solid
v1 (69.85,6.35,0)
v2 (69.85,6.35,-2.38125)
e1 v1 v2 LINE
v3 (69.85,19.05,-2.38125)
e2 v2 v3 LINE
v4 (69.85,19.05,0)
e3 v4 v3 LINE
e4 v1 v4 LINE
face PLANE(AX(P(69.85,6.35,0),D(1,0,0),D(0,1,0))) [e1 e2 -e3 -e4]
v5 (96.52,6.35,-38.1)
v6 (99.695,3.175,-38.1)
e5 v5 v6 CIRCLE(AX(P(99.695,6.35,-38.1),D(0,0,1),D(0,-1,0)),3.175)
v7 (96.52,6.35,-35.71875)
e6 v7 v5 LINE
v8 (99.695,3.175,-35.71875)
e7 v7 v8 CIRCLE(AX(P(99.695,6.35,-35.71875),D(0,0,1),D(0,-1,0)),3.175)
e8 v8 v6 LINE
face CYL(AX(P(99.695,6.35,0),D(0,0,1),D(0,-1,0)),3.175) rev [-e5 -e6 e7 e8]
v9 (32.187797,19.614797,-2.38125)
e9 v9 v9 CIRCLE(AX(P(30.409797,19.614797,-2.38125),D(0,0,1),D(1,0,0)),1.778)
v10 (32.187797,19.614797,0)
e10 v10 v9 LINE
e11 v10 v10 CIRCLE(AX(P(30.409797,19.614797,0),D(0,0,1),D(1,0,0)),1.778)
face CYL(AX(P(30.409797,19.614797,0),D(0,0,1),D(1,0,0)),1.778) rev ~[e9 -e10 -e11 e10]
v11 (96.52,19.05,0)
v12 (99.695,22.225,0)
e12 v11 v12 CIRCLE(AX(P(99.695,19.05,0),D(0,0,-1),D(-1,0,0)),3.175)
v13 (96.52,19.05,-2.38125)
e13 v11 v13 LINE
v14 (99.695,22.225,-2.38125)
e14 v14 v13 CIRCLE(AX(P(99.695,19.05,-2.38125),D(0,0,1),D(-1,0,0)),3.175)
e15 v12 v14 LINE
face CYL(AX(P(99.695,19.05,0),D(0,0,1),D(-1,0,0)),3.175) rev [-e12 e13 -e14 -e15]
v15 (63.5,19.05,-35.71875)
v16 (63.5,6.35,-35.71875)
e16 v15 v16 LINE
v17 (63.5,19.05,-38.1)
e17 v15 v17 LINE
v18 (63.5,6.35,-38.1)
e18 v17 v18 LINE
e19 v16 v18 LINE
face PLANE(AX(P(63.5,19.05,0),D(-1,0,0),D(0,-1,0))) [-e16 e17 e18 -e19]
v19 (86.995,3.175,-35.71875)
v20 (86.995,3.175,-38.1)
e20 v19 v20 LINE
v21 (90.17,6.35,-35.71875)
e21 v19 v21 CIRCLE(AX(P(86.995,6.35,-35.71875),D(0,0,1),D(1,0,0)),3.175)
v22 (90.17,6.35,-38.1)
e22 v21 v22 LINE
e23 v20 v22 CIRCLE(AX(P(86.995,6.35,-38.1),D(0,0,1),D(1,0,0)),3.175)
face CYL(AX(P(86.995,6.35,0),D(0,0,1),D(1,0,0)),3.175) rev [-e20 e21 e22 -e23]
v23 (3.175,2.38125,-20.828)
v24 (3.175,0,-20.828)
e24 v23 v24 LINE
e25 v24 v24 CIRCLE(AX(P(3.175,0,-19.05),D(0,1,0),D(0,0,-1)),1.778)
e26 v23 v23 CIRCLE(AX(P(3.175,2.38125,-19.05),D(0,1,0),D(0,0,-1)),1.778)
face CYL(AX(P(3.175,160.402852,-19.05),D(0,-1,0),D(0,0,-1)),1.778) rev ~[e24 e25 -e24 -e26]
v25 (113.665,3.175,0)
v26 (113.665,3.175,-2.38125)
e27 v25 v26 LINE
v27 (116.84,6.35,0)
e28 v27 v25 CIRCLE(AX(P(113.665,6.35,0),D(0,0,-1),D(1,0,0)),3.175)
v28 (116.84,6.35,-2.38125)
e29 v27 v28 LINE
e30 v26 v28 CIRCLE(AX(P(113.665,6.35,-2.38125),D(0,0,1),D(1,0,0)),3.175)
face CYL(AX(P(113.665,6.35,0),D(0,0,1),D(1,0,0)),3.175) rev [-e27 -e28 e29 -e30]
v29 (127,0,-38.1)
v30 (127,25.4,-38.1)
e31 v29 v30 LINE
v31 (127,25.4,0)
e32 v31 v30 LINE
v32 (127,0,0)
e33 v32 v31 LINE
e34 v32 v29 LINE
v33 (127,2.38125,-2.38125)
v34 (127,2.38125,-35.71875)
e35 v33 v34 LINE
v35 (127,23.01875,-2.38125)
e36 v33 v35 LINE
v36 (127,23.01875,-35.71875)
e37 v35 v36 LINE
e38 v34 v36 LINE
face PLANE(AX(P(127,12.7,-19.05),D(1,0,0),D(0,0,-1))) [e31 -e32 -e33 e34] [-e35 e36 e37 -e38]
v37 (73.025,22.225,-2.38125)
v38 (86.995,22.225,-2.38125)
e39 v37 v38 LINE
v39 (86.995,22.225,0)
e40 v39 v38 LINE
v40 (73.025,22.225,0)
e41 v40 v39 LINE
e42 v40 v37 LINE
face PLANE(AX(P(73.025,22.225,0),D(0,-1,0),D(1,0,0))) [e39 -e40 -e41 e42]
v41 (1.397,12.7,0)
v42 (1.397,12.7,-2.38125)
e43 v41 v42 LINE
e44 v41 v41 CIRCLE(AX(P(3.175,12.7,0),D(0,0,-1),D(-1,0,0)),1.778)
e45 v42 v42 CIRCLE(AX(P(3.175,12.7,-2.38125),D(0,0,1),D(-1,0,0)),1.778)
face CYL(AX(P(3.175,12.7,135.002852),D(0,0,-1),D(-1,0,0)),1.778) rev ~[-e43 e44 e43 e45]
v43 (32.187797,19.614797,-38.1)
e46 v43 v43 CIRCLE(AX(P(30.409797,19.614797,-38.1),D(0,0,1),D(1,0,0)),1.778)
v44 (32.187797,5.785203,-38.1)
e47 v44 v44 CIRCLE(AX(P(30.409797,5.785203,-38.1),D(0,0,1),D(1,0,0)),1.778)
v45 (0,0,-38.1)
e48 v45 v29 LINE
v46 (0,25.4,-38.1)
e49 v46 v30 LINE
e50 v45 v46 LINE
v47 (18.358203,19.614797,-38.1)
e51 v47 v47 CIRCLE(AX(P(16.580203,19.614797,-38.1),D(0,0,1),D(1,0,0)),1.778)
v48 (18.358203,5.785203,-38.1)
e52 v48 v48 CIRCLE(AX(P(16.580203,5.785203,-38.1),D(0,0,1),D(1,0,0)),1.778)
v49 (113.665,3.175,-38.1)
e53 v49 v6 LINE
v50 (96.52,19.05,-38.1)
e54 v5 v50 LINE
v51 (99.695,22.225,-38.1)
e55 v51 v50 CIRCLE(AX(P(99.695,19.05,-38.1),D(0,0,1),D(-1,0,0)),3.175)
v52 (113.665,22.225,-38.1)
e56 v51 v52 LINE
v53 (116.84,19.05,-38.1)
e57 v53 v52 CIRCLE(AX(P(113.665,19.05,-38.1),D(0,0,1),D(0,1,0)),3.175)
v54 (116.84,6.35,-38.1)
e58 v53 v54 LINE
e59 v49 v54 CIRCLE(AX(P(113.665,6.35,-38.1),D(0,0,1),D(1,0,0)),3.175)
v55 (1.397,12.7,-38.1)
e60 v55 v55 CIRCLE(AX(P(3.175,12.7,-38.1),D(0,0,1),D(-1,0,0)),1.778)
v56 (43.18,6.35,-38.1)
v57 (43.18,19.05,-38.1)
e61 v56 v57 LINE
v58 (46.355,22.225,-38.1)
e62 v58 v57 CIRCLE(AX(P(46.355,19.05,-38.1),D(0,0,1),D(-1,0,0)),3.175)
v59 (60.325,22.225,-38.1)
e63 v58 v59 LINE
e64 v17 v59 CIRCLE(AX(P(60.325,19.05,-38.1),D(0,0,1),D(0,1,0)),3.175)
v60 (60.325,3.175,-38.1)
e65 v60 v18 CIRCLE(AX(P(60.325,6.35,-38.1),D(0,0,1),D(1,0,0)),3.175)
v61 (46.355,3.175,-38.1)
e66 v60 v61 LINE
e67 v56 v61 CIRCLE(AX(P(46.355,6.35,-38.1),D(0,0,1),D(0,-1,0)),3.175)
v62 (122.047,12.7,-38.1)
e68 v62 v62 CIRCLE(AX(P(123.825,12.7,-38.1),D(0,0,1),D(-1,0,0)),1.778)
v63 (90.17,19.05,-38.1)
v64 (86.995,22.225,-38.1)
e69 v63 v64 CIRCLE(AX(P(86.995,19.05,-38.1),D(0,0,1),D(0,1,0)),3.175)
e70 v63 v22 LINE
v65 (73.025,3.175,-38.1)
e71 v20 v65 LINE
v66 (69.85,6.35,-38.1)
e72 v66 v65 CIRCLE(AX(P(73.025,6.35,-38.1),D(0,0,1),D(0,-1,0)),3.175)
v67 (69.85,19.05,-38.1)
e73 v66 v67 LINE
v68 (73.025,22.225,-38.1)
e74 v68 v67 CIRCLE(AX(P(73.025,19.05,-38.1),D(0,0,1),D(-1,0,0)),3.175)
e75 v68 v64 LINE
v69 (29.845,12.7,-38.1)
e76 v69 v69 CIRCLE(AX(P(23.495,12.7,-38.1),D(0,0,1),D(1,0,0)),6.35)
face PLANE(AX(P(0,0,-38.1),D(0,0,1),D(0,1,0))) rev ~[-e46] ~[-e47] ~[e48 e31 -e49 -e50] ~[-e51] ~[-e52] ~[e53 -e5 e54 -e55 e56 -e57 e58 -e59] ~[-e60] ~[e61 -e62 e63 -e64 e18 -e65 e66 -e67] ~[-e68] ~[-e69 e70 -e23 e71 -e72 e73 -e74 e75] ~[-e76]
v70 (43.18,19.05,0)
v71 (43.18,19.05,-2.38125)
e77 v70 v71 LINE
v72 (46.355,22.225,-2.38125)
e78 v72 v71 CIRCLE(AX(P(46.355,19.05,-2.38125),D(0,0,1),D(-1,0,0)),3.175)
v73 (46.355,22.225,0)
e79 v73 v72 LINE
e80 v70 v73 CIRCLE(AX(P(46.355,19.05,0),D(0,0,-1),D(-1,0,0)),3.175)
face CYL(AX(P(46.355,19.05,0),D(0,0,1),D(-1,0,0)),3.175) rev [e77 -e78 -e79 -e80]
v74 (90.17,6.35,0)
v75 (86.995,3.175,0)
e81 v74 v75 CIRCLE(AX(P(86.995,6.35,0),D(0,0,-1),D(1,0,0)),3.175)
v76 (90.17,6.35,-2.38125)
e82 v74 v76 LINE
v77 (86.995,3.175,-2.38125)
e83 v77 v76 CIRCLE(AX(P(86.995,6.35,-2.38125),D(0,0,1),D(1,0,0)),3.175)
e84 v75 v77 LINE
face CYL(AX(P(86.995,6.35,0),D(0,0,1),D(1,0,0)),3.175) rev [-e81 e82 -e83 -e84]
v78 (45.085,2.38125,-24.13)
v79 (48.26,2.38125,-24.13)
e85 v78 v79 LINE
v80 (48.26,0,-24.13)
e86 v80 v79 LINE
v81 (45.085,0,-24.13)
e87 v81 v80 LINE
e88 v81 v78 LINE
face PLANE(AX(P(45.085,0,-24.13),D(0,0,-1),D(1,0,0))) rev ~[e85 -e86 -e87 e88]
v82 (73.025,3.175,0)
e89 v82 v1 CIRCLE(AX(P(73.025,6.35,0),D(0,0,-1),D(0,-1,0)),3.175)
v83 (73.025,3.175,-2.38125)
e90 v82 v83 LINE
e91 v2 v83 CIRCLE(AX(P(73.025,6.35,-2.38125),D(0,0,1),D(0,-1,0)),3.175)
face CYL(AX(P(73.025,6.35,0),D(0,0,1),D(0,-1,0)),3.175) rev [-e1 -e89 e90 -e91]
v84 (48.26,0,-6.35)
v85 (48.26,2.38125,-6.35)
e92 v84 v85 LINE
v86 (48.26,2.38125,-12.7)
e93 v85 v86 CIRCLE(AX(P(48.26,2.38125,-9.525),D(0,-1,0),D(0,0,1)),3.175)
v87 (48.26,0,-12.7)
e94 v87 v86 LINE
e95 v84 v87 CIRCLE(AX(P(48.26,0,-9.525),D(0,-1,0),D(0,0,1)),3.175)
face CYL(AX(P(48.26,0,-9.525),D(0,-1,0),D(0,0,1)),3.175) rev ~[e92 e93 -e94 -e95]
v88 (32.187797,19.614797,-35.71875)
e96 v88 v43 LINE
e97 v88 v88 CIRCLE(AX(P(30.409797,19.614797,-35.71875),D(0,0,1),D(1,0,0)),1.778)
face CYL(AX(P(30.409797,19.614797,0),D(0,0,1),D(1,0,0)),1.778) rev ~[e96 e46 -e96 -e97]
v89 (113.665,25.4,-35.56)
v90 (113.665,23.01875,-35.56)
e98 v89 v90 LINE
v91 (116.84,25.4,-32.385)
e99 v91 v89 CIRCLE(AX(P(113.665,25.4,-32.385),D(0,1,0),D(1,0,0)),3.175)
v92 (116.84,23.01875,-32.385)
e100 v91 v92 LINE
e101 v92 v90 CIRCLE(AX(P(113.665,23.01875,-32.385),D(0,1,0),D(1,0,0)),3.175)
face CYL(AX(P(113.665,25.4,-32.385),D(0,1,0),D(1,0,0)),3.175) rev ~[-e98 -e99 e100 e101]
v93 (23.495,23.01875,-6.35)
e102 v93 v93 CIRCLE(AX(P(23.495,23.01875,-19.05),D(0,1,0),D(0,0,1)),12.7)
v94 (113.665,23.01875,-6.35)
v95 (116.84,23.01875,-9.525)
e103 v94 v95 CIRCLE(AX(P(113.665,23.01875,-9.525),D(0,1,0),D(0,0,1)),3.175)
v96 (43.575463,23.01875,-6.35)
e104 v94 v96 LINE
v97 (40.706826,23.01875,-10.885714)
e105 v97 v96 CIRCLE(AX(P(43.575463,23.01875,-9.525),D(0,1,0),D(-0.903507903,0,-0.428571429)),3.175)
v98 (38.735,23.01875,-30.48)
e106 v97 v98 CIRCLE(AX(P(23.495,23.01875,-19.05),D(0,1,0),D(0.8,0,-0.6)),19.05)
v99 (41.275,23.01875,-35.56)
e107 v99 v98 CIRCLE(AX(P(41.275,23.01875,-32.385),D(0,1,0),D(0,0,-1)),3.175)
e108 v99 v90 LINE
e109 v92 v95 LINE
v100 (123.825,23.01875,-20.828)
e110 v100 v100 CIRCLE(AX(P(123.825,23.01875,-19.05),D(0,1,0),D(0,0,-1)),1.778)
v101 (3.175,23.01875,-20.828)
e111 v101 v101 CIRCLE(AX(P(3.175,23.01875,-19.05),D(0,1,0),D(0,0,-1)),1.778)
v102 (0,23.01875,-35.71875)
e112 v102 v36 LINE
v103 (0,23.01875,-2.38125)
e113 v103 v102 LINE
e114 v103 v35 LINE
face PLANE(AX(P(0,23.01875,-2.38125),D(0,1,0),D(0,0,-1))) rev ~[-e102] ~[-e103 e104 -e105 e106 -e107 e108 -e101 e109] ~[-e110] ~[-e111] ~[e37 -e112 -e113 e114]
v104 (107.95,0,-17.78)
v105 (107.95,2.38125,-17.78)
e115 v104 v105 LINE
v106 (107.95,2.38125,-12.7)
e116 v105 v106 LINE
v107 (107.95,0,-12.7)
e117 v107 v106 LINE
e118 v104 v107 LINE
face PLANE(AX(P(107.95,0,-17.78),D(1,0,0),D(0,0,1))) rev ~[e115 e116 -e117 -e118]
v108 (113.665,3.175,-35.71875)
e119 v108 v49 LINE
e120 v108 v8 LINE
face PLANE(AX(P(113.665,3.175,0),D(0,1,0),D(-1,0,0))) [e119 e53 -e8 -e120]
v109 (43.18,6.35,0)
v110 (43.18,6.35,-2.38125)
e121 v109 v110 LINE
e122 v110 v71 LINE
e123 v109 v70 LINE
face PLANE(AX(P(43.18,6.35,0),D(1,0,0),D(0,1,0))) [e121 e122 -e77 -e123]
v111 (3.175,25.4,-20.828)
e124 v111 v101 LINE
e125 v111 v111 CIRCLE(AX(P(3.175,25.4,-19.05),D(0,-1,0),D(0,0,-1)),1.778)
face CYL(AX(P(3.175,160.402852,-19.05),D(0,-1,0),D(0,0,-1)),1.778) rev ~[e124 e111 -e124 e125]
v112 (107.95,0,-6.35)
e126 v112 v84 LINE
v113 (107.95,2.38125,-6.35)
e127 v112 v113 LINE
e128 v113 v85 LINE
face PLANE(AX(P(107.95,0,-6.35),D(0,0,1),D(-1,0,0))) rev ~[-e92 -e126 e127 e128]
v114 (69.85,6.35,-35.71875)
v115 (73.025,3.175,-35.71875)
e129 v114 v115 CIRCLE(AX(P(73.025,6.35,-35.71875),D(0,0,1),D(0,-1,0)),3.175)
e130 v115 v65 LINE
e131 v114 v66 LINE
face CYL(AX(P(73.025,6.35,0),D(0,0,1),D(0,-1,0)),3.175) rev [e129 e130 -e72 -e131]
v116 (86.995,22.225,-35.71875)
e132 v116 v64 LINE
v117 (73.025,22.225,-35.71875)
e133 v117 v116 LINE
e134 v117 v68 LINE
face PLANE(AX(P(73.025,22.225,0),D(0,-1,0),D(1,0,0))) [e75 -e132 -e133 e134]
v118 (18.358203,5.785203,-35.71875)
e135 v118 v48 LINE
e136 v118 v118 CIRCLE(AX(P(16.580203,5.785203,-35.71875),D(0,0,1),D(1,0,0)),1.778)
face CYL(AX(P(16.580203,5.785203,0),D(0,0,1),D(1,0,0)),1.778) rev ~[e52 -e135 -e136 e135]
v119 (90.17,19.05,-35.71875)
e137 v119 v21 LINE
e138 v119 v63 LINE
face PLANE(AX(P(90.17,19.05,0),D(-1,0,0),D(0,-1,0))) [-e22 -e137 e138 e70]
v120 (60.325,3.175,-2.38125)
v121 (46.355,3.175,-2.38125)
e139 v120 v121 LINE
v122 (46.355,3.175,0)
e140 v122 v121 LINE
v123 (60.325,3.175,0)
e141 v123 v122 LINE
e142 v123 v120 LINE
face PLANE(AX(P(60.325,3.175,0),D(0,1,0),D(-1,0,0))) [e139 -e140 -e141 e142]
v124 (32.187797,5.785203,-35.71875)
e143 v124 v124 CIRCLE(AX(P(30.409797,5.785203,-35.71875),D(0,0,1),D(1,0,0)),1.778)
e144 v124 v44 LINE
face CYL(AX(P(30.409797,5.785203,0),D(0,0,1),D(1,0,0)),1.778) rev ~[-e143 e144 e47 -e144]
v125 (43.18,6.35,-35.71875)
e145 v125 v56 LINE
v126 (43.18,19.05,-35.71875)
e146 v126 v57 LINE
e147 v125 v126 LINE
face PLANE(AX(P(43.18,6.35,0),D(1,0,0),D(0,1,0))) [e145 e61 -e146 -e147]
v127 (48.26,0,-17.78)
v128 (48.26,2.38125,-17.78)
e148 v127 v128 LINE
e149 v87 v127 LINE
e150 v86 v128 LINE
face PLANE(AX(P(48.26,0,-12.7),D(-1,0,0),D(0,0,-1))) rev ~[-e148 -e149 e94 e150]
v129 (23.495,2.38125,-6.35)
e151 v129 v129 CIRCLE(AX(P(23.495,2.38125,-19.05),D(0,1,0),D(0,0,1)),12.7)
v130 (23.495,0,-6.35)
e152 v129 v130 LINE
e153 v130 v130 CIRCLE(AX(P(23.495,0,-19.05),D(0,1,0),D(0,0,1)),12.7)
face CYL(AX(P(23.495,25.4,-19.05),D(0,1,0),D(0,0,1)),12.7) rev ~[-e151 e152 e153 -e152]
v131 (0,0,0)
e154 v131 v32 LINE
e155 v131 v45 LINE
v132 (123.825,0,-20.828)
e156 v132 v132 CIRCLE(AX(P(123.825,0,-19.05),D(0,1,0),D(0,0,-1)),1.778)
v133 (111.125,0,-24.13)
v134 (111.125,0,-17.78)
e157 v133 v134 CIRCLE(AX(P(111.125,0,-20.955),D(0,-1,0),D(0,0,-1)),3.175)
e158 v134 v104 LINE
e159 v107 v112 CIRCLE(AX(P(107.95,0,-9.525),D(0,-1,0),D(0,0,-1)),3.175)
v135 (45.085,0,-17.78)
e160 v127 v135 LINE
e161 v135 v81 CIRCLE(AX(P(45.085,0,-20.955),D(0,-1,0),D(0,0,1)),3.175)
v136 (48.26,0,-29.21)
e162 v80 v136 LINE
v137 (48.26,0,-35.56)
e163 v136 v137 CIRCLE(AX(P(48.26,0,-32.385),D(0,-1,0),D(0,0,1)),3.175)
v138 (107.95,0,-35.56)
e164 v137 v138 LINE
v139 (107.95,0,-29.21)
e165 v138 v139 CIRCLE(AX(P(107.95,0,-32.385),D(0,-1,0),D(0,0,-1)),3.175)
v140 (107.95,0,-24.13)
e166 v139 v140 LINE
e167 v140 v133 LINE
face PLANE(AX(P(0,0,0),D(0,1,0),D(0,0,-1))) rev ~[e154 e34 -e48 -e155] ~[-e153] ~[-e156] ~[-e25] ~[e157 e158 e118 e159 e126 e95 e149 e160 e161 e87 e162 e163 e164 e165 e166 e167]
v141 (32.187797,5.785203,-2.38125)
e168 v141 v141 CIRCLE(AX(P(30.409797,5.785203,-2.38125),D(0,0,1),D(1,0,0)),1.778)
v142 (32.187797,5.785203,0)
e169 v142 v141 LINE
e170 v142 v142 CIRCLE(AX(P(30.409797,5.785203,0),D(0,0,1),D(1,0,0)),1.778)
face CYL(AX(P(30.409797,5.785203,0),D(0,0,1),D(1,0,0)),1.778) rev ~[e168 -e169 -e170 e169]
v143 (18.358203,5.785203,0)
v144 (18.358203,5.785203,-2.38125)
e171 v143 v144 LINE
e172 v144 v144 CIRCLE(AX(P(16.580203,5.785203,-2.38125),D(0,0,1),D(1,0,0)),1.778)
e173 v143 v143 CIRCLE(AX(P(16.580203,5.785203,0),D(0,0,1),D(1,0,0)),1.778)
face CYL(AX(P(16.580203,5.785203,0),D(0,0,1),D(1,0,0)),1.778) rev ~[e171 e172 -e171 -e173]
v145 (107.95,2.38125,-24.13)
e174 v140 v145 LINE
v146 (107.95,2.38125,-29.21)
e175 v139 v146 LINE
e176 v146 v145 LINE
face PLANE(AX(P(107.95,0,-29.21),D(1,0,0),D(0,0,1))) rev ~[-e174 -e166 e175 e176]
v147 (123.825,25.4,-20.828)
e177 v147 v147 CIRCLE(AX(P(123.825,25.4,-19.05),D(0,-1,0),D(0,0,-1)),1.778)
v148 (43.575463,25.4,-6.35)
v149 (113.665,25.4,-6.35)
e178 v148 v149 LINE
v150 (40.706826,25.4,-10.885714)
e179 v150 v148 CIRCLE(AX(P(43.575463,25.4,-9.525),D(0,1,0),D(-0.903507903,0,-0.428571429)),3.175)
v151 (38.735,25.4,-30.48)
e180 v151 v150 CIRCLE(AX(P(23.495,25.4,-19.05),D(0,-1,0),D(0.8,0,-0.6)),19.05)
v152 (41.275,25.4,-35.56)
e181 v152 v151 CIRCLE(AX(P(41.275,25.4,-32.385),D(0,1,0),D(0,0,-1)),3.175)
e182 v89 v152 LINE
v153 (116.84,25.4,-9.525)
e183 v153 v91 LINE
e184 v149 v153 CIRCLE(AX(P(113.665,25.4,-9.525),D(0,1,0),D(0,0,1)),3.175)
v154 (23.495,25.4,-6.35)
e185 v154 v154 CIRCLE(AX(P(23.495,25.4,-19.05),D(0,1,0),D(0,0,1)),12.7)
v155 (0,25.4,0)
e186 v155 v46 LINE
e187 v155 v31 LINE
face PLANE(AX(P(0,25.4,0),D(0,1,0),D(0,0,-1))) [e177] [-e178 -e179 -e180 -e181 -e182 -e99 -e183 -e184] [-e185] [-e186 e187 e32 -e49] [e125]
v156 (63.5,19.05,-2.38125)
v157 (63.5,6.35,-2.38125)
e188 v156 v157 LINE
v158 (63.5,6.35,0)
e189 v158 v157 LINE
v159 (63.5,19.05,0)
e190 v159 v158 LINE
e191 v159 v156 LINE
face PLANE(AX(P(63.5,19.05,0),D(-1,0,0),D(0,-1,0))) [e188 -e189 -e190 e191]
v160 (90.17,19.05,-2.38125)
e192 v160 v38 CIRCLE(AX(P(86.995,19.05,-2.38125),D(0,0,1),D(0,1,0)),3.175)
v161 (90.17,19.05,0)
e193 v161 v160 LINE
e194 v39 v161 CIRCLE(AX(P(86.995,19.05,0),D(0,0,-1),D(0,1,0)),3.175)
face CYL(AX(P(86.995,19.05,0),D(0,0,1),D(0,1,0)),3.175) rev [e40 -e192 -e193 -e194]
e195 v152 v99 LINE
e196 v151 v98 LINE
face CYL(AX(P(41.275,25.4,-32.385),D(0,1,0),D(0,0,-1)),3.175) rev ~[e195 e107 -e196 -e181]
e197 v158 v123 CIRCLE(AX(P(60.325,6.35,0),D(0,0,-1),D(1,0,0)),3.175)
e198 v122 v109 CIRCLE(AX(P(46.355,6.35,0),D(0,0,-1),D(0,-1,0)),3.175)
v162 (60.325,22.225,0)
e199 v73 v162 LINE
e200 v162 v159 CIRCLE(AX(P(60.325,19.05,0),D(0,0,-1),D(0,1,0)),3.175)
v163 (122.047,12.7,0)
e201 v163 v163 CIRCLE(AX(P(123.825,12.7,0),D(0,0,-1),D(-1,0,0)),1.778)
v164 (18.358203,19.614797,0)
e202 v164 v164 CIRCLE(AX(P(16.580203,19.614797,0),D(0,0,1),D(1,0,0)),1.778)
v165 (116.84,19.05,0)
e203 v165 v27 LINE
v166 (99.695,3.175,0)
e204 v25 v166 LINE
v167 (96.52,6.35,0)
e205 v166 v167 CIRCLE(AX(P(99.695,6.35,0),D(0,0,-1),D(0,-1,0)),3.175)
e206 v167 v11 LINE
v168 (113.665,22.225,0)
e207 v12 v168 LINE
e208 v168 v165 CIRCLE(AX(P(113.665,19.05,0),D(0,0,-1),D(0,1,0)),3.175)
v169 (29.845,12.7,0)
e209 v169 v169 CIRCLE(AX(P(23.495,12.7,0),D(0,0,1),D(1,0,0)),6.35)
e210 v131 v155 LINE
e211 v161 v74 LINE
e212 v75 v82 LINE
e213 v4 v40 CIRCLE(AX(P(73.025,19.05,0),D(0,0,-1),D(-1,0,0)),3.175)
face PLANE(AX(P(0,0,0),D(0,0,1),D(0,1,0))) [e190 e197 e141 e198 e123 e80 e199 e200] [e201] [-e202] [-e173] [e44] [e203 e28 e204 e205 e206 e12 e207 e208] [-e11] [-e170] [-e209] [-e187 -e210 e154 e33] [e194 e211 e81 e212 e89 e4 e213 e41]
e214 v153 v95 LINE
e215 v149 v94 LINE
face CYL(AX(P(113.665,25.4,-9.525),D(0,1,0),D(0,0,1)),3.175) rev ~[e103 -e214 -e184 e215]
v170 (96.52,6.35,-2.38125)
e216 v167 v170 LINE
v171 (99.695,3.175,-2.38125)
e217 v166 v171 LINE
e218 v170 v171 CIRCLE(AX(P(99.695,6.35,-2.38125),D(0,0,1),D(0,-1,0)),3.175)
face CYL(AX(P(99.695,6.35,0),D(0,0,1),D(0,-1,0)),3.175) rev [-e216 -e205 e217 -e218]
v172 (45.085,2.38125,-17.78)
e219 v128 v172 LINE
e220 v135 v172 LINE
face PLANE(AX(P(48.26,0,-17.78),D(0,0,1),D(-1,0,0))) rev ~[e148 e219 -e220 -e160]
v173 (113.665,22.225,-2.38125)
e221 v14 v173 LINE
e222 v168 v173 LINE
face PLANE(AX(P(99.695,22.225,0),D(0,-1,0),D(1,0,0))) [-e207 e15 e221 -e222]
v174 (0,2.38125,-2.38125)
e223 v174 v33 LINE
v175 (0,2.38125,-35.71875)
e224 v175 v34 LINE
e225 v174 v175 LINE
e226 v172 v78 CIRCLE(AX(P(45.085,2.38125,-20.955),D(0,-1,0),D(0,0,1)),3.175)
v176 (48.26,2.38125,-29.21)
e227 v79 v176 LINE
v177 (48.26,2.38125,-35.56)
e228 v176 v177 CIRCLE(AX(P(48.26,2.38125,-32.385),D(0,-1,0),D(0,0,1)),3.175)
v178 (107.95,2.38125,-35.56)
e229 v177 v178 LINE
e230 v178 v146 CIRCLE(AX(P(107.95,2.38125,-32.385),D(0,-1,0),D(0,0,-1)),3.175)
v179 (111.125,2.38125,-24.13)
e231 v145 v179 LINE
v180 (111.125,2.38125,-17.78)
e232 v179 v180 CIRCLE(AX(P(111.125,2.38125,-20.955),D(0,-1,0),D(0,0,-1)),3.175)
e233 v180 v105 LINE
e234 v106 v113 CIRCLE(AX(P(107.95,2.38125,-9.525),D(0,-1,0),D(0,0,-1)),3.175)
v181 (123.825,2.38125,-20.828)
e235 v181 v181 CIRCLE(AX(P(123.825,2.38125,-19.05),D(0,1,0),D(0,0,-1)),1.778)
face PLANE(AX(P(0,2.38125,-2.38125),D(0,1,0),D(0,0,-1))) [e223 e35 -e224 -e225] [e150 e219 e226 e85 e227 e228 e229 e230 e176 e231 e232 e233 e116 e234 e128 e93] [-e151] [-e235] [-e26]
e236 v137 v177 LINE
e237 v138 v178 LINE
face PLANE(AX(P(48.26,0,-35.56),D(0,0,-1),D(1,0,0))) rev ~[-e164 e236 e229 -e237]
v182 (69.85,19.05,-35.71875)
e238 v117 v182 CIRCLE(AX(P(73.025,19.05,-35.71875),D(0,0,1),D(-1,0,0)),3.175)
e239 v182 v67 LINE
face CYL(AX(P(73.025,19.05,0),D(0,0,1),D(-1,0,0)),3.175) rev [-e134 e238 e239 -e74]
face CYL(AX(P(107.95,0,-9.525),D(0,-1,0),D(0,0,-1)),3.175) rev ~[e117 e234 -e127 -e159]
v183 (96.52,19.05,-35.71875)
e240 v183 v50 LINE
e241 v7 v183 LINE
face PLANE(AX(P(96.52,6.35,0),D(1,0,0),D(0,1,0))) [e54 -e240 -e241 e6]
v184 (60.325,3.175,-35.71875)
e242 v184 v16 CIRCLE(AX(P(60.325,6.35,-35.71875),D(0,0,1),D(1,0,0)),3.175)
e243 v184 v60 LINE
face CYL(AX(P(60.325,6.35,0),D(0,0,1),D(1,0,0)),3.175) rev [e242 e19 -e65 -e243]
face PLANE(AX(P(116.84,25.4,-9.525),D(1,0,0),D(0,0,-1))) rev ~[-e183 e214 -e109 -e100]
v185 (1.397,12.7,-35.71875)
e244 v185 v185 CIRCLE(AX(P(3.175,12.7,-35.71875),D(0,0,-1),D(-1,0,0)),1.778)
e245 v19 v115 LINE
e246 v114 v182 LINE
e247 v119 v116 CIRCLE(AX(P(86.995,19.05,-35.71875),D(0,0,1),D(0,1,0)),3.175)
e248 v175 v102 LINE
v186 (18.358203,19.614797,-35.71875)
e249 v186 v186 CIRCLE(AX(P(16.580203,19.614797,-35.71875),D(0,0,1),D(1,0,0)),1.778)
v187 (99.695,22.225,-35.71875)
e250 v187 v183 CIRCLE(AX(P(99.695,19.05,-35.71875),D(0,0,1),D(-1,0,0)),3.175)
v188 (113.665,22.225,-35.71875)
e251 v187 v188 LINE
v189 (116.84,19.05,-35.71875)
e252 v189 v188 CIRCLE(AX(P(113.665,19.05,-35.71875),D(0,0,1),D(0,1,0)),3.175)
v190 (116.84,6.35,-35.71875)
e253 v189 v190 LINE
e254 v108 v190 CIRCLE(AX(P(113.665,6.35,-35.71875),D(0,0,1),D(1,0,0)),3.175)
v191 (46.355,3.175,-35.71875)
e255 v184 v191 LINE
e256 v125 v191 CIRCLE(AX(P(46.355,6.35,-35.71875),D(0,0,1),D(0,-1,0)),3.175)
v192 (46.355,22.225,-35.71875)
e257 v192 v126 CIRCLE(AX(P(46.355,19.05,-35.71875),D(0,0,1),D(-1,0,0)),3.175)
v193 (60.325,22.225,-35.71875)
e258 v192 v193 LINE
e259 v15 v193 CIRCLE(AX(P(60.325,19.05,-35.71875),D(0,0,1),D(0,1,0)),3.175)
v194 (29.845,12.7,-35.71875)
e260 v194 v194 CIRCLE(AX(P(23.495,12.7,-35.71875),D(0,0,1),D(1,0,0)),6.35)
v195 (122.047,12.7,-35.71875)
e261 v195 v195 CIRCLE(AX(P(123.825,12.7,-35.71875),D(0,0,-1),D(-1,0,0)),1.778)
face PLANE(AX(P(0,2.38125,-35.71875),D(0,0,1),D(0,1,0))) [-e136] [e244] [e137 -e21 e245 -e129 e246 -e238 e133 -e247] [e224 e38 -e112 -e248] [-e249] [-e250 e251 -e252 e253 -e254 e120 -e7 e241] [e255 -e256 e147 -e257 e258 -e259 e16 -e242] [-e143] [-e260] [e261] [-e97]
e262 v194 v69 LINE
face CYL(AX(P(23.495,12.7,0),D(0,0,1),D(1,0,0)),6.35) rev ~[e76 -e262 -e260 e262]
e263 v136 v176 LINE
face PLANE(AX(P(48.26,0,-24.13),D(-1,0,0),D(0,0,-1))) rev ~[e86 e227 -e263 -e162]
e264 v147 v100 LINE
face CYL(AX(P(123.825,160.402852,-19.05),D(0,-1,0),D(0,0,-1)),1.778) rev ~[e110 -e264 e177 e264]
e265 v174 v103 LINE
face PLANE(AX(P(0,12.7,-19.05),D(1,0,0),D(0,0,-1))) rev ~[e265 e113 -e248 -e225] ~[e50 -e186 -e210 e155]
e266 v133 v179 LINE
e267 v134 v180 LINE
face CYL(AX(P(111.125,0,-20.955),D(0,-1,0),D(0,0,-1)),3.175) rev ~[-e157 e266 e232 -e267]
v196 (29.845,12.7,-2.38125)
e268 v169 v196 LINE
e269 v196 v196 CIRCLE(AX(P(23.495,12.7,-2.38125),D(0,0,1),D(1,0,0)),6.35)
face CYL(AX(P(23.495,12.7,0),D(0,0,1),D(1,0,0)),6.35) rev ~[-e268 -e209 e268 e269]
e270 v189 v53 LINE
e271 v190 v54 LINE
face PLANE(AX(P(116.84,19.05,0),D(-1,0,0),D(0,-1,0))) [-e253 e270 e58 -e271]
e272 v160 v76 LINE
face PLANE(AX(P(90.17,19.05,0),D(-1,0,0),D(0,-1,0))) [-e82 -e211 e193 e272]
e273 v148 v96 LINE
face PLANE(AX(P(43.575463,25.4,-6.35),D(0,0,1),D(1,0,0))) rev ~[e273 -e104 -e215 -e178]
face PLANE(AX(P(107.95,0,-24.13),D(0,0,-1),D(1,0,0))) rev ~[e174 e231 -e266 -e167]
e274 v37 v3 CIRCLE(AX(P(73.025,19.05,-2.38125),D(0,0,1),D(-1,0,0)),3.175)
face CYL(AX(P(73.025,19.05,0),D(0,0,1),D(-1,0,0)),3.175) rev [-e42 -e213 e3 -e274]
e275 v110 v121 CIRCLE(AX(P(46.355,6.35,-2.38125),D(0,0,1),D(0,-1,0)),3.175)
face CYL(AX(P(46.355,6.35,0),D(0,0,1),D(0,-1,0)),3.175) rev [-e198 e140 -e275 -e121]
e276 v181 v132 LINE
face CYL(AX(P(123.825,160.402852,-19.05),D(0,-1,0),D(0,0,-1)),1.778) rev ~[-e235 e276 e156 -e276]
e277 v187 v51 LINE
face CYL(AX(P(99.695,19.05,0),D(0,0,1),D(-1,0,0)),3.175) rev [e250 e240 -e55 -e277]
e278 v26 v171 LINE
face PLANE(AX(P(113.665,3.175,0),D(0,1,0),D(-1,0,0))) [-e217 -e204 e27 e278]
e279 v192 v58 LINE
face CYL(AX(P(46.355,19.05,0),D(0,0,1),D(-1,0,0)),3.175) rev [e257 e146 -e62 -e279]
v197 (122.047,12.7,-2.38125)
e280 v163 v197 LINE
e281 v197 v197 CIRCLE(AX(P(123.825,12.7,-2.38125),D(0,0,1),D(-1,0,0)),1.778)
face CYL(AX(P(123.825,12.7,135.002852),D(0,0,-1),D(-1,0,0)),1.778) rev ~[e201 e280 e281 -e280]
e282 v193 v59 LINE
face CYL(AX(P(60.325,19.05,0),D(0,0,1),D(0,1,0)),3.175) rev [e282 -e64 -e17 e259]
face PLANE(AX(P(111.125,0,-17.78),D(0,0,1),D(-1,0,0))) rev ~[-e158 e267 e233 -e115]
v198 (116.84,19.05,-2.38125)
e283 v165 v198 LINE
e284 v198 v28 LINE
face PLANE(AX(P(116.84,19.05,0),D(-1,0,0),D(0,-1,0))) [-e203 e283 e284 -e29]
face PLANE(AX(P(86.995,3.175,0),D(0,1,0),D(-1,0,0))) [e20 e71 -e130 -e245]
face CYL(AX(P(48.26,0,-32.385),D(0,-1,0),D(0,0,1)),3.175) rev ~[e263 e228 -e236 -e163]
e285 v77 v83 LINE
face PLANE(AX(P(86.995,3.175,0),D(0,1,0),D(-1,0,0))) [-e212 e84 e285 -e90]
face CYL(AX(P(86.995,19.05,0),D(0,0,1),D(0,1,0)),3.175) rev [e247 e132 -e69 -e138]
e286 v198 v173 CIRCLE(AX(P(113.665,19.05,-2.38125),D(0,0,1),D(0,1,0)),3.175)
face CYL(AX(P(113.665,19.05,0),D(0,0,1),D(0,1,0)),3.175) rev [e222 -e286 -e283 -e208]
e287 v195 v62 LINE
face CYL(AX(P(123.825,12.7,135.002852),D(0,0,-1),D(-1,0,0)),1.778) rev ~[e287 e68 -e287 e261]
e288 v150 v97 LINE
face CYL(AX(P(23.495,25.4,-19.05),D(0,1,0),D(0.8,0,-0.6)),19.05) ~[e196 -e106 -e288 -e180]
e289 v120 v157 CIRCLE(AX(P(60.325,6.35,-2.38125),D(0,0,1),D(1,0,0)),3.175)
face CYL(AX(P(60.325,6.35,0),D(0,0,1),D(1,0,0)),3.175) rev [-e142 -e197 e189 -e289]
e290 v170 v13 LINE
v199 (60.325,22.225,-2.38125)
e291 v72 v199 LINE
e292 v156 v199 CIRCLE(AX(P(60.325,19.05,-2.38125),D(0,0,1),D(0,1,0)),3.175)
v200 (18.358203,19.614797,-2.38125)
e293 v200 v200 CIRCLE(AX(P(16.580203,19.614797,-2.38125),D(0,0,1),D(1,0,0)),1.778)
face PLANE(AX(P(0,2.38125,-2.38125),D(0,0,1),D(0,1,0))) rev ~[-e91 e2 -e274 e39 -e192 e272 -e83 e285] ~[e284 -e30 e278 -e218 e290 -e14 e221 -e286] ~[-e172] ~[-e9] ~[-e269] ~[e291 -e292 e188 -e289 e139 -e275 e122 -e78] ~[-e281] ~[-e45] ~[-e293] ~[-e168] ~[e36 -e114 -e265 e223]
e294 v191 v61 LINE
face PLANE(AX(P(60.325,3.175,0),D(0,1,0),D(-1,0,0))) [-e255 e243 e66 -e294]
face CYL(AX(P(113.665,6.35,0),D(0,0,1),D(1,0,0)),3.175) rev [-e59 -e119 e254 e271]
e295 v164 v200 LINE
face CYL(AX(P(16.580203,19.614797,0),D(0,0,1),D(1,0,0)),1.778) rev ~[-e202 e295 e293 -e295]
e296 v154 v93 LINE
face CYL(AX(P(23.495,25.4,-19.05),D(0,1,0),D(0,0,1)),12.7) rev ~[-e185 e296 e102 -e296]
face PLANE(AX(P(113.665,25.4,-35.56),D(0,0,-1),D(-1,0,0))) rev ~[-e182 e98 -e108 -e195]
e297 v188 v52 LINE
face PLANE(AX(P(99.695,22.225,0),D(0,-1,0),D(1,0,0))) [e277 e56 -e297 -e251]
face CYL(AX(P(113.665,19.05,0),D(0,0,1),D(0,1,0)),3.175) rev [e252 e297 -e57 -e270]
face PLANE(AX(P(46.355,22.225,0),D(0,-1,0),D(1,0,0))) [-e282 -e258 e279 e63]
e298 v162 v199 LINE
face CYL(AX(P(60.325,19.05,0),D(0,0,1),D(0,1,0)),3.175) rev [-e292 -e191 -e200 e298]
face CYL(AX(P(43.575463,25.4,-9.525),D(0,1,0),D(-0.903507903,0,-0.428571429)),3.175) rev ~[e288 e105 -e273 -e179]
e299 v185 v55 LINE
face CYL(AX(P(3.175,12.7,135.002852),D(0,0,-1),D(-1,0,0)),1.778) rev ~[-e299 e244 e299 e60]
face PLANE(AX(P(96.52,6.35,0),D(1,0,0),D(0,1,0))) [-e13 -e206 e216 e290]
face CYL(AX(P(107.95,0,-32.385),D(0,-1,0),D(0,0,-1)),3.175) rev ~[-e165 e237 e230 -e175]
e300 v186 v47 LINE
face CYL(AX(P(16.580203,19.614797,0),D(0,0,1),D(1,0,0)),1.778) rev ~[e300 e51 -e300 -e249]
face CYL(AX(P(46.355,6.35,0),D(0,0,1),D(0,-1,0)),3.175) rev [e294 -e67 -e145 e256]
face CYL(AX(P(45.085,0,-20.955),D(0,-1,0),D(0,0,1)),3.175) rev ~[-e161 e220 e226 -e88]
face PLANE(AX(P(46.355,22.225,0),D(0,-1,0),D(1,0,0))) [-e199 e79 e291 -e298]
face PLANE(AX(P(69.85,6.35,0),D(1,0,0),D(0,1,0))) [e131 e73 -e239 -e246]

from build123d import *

# Parameters (mm, degrees)
SKETCH1_W                            = 38.1
SKETCH1_H                            = 25.4
SKETCH1_W_2                          = 33.3375
SKETCH1_H_2                          = 20.6375
BOSS_EXTRUDE1_DEPTH                  = 127
SKETCH2_R                            = 12.7
CUT_EXTRUDE1_DEPTH                   = 136.002851822
SKETCH3_R                            = 6.35
SKETCH3_R_2                          = 1.778
CUT_EXTRUDE2_DEPTH                   = 136.002851822
CUT_EXTRUDE3_REACH                   = 137.003
F_4_0_209_DIAMETER_HOLE1_D           = 3.556
F_4_0_209_DIAMETER_HOLE1_ON_FACE_2_D = 3.556
F_4_0_209_DIAMETER_HOLE1_ON_FACE_3_D = 3.556
F_4_0_209_DIAMETER_HOLE1_ON_FACE_4_D = 3.556
CUT_EXTRUDE4_REACH                   = 137.003


with BuildPart() as part:
    # Sketch1 → Boss-Extrude1 (new body)
    with BuildSketch(Plane(origin=(0, 0, 0), x_dir=(0, 0, -1), z_dir=(1, 0, 0))):
        with Locations((19.05, 12.7)):
            Rectangle(SKETCH1_W, SKETCH1_H)
        with Locations((19.05, 12.7)):
            Rectangle(SKETCH1_W_2, SKETCH1_H_2, mode=Mode.SUBTRACT)
    extrude(amount=BOSS_EXTRUDE1_DEPTH)

    # Sketch2 → Cut-Extrude1 (cut, through all)
    with BuildSketch(Plane(origin=(0, 25.4, 0), x_dir=(1, 0, 0), z_dir=(0, 1, 0))):
        with Locations(Location((23.495, 19.05, 0), (0, 0, 270))):
            Circle(SKETCH2_R)
    extrude(amount=-CUT_EXTRUDE1_DEPTH, mode=Mode.SUBTRACT)

    # Sketch3 → Cut-Extrude2 (cut, through all)
    with BuildSketch(Plane.XY):
        with Locations((23.495, 12.7)):
            Circle(SKETCH3_R)
        with Locations((16.580202787, 19.614797213)):
            Circle(SKETCH3_R_2)
        with Locations((16.580202787, 5.785202787)):
            Circle(SKETCH3_R_2)
        with Locations((30.409797213, 5.785202787)):
            Circle(SKETCH3_R_2)
        with Locations((30.409797213, 19.614797213)):
            Circle(SKETCH3_R_2)
        with BuildLine():
            Line((46.355, 22.225), (60.325, 22.225))
            ThreePointArc((60.325, 22.225), (62.57006403, 21.29506403), (63.5, 19.05))
            Line((63.5, 19.05), (63.5, 6.35))
            ThreePointArc((63.5, 6.35), (62.57006403, 4.10493597), (60.325, 3.175))
            Line((60.325, 3.175), (46.355, 3.175))
            ThreePointArc((46.355, 3.175), (44.10993597, 4.10493597), (43.18, 6.35))
            Line((43.18, 6.35), (43.18, 19.05))
            ThreePointArc((43.18, 19.05), (44.10993597, 21.29506403), (46.355, 22.225))
        make_face()
        with BuildLine():
            Line((73.025, 22.225), (86.995, 22.225))
            ThreePointArc((86.995, 22.225), (89.24006403, 21.29506403), (90.17, 19.05))
            Line((90.17, 19.05), (90.17, 6.35))
            ThreePointArc((90.17, 6.35), (89.24006403, 4.10493597), (86.995, 3.175))
            Line((86.995, 3.175), (73.025, 3.175))
            ThreePointArc((73.025, 3.175), (70.77993597, 4.10493597), (69.85, 6.35))
            Line((69.85, 6.35), (69.85, 19.05))
            ThreePointArc((69.85, 19.05), (70.77993597, 21.29506403), (73.025, 22.225))
        make_face()
        with BuildLine():
            Line((99.695, 22.225), (113.665, 22.225))
            ThreePointArc((113.665, 22.225), (115.91006403, 21.29506403), (116.84, 19.05))
            Line((116.84, 19.05), (116.84, 6.35))
            ThreePointArc((116.84, 6.35), (115.91006403, 4.10493597), (113.665, 3.175))
            Line((113.665, 3.175), (99.695, 3.175))
            ThreePointArc((99.695, 3.175), (97.44993597, 4.10493597), (96.52, 6.35))
            Line((96.52, 6.35), (96.52, 19.05))
            ThreePointArc((96.52, 19.05), (97.44993597, 21.29506403), (99.695, 22.225))
        make_face()
    extrude(amount=-CUT_EXTRUDE2_DEPTH, mode=Mode.SUBTRACT)

    # Sketch4 → Cut-Extrude3 (cut, up to next)
    with BuildSketch(Plane(origin=(0, 25.4, 0), x_dir=(1, 0, 0), z_dir=(0, 1, 0)), mode=Mode.PRIVATE) as cut_extrude3_sk1:
        with BuildLine():
            Line((43.575463142, 6.35), (113.665, 6.35))
            ThreePointArc((113.665, 6.35), (115.91006403, 7.27993597), (116.84, 9.525))
            Line((116.84, 9.525), (116.84, 32.385))
            ThreePointArc((116.84, 32.385), (115.91006403, 34.63006403), (113.665, 35.56))
            Line((113.665, 35.56), (41.275, 35.56))
            ThreePointArc((41.275, 35.56), (38.435193669, 33.804903166), (38.735, 30.48))
            ThreePointArc((38.735, 30.48), (42.449267423, 20.957418792), (40.70682555, 10.885714286))
            ThreePointArc((40.70682555, 10.885714286), (40.892098383, 7.827891114), (43.575463142, 6.35))
        make_face()
    cut_extrude3_tool1 = extrude(cut_extrude3_sk1.sketch, amount=-CUT_EXTRUDE3_REACH, mode=Mode.PRIVATE) & part.part
    add(cut_extrude3_tool1.solids().sort_by_distance((78.81497, 25.4, -21.04719))[0], mode=Mode.SUBTRACT)

    # #4 (0.209) Diameter Hole1 (through all)
    with Locations(Plane(origin=(3.175, 25.4, -19.05), x_dir=(0, 0, 1), z_dir=(0, 1, 0))):
        with Locations((0, 0), (0, 120.65)):
            Hole(F_4_0_209_DIAMETER_HOLE1_D / 2)

    # #4 (0.209) Diameter Hole1 on face 2 (through all)
    with Locations(Plane(origin=(123.825, 12.7, 0), x_dir=(1, 0, 0), z_dir=(0, 0, 1))):
        with Locations((0, 0), (-120.65, 0)):
            Hole(F_4_0_209_DIAMETER_HOLE1_ON_FACE_2_D / 2)

    # #4 (0.209) Diameter Hole1 on face 3 (through all)
    with Locations(Plane(origin=(123.825, 0, -19.05), x_dir=(0, 0, -1), z_dir=(0, -1, 0))):
        with Locations((0, 0), (0, -120.65)):
            Hole(F_4_0_209_DIAMETER_HOLE1_ON_FACE_3_D / 2)

    # #4 (0.209) Diameter Hole1 on face 4 (through all)
    with Locations(Plane(origin=(123.825, 12.7, -38.1), x_dir=(-1, 0, 0), z_dir=(0, 0, -1))):
        with Locations((0, 0), (120.65, 0)):
            Hole(F_4_0_209_DIAMETER_HOLE1_ON_FACE_4_D / 2)

    # Sketch6 → Cut-Extrude4 (cut, up to next)
    with BuildSketch(Plane.XZ, mode=Mode.PRIVATE) as cut_extrude4_sk1:
        with BuildLine():
            Line((48.26, -35.56), (107.95, -35.56))
            ThreePointArc((107.95, -35.56), (111.125, -32.385), (107.95, -29.21))
            Line((107.95, -29.21), (107.95, -24.13))
            Line((107.95, -24.13), (111.125, -24.13))
            ThreePointArc((111.125, -24.13), (114.3, -20.955), (111.125, -17.78))
            Line((111.125, -17.78), (107.95, -17.78))
            Line((107.95, -17.78), (107.95, -12.7))
            ThreePointArc((107.95, -12.7), (111.125, -9.525), (107.95, -6.35))
            Line((107.95, -6.35), (48.26, -6.35))
            ThreePointArc((48.26, -6.35), (45.085, -9.525), (48.26, -12.7))
            Line((48.26, -12.7), (48.26, -17.78))
            Line((48.26, -17.78), (45.085, -17.78))
            ThreePointArc((45.085, -17.78), (41.91, -20.955), (45.085, -24.13))
            Line((45.085, -24.13), (48.26, -24.13))
            Line((48.26, -24.13), (48.26, -29.21))
            ThreePointArc((48.26, -29.21), (45.085, -32.385), (48.26, -35.56))
        make_face()
    cut_extrude4_tool1 = extrude(cut_extrude4_sk1.sketch, amount=-CUT_EXTRUDE4_REACH, mode=Mode.PRIVATE) & part.part
    add(cut_extrude4_tool1.solids().sort_by_distance((78.105, 0, -20.955))[0], mode=Mode.SUBTRACT)


solid = part.part
